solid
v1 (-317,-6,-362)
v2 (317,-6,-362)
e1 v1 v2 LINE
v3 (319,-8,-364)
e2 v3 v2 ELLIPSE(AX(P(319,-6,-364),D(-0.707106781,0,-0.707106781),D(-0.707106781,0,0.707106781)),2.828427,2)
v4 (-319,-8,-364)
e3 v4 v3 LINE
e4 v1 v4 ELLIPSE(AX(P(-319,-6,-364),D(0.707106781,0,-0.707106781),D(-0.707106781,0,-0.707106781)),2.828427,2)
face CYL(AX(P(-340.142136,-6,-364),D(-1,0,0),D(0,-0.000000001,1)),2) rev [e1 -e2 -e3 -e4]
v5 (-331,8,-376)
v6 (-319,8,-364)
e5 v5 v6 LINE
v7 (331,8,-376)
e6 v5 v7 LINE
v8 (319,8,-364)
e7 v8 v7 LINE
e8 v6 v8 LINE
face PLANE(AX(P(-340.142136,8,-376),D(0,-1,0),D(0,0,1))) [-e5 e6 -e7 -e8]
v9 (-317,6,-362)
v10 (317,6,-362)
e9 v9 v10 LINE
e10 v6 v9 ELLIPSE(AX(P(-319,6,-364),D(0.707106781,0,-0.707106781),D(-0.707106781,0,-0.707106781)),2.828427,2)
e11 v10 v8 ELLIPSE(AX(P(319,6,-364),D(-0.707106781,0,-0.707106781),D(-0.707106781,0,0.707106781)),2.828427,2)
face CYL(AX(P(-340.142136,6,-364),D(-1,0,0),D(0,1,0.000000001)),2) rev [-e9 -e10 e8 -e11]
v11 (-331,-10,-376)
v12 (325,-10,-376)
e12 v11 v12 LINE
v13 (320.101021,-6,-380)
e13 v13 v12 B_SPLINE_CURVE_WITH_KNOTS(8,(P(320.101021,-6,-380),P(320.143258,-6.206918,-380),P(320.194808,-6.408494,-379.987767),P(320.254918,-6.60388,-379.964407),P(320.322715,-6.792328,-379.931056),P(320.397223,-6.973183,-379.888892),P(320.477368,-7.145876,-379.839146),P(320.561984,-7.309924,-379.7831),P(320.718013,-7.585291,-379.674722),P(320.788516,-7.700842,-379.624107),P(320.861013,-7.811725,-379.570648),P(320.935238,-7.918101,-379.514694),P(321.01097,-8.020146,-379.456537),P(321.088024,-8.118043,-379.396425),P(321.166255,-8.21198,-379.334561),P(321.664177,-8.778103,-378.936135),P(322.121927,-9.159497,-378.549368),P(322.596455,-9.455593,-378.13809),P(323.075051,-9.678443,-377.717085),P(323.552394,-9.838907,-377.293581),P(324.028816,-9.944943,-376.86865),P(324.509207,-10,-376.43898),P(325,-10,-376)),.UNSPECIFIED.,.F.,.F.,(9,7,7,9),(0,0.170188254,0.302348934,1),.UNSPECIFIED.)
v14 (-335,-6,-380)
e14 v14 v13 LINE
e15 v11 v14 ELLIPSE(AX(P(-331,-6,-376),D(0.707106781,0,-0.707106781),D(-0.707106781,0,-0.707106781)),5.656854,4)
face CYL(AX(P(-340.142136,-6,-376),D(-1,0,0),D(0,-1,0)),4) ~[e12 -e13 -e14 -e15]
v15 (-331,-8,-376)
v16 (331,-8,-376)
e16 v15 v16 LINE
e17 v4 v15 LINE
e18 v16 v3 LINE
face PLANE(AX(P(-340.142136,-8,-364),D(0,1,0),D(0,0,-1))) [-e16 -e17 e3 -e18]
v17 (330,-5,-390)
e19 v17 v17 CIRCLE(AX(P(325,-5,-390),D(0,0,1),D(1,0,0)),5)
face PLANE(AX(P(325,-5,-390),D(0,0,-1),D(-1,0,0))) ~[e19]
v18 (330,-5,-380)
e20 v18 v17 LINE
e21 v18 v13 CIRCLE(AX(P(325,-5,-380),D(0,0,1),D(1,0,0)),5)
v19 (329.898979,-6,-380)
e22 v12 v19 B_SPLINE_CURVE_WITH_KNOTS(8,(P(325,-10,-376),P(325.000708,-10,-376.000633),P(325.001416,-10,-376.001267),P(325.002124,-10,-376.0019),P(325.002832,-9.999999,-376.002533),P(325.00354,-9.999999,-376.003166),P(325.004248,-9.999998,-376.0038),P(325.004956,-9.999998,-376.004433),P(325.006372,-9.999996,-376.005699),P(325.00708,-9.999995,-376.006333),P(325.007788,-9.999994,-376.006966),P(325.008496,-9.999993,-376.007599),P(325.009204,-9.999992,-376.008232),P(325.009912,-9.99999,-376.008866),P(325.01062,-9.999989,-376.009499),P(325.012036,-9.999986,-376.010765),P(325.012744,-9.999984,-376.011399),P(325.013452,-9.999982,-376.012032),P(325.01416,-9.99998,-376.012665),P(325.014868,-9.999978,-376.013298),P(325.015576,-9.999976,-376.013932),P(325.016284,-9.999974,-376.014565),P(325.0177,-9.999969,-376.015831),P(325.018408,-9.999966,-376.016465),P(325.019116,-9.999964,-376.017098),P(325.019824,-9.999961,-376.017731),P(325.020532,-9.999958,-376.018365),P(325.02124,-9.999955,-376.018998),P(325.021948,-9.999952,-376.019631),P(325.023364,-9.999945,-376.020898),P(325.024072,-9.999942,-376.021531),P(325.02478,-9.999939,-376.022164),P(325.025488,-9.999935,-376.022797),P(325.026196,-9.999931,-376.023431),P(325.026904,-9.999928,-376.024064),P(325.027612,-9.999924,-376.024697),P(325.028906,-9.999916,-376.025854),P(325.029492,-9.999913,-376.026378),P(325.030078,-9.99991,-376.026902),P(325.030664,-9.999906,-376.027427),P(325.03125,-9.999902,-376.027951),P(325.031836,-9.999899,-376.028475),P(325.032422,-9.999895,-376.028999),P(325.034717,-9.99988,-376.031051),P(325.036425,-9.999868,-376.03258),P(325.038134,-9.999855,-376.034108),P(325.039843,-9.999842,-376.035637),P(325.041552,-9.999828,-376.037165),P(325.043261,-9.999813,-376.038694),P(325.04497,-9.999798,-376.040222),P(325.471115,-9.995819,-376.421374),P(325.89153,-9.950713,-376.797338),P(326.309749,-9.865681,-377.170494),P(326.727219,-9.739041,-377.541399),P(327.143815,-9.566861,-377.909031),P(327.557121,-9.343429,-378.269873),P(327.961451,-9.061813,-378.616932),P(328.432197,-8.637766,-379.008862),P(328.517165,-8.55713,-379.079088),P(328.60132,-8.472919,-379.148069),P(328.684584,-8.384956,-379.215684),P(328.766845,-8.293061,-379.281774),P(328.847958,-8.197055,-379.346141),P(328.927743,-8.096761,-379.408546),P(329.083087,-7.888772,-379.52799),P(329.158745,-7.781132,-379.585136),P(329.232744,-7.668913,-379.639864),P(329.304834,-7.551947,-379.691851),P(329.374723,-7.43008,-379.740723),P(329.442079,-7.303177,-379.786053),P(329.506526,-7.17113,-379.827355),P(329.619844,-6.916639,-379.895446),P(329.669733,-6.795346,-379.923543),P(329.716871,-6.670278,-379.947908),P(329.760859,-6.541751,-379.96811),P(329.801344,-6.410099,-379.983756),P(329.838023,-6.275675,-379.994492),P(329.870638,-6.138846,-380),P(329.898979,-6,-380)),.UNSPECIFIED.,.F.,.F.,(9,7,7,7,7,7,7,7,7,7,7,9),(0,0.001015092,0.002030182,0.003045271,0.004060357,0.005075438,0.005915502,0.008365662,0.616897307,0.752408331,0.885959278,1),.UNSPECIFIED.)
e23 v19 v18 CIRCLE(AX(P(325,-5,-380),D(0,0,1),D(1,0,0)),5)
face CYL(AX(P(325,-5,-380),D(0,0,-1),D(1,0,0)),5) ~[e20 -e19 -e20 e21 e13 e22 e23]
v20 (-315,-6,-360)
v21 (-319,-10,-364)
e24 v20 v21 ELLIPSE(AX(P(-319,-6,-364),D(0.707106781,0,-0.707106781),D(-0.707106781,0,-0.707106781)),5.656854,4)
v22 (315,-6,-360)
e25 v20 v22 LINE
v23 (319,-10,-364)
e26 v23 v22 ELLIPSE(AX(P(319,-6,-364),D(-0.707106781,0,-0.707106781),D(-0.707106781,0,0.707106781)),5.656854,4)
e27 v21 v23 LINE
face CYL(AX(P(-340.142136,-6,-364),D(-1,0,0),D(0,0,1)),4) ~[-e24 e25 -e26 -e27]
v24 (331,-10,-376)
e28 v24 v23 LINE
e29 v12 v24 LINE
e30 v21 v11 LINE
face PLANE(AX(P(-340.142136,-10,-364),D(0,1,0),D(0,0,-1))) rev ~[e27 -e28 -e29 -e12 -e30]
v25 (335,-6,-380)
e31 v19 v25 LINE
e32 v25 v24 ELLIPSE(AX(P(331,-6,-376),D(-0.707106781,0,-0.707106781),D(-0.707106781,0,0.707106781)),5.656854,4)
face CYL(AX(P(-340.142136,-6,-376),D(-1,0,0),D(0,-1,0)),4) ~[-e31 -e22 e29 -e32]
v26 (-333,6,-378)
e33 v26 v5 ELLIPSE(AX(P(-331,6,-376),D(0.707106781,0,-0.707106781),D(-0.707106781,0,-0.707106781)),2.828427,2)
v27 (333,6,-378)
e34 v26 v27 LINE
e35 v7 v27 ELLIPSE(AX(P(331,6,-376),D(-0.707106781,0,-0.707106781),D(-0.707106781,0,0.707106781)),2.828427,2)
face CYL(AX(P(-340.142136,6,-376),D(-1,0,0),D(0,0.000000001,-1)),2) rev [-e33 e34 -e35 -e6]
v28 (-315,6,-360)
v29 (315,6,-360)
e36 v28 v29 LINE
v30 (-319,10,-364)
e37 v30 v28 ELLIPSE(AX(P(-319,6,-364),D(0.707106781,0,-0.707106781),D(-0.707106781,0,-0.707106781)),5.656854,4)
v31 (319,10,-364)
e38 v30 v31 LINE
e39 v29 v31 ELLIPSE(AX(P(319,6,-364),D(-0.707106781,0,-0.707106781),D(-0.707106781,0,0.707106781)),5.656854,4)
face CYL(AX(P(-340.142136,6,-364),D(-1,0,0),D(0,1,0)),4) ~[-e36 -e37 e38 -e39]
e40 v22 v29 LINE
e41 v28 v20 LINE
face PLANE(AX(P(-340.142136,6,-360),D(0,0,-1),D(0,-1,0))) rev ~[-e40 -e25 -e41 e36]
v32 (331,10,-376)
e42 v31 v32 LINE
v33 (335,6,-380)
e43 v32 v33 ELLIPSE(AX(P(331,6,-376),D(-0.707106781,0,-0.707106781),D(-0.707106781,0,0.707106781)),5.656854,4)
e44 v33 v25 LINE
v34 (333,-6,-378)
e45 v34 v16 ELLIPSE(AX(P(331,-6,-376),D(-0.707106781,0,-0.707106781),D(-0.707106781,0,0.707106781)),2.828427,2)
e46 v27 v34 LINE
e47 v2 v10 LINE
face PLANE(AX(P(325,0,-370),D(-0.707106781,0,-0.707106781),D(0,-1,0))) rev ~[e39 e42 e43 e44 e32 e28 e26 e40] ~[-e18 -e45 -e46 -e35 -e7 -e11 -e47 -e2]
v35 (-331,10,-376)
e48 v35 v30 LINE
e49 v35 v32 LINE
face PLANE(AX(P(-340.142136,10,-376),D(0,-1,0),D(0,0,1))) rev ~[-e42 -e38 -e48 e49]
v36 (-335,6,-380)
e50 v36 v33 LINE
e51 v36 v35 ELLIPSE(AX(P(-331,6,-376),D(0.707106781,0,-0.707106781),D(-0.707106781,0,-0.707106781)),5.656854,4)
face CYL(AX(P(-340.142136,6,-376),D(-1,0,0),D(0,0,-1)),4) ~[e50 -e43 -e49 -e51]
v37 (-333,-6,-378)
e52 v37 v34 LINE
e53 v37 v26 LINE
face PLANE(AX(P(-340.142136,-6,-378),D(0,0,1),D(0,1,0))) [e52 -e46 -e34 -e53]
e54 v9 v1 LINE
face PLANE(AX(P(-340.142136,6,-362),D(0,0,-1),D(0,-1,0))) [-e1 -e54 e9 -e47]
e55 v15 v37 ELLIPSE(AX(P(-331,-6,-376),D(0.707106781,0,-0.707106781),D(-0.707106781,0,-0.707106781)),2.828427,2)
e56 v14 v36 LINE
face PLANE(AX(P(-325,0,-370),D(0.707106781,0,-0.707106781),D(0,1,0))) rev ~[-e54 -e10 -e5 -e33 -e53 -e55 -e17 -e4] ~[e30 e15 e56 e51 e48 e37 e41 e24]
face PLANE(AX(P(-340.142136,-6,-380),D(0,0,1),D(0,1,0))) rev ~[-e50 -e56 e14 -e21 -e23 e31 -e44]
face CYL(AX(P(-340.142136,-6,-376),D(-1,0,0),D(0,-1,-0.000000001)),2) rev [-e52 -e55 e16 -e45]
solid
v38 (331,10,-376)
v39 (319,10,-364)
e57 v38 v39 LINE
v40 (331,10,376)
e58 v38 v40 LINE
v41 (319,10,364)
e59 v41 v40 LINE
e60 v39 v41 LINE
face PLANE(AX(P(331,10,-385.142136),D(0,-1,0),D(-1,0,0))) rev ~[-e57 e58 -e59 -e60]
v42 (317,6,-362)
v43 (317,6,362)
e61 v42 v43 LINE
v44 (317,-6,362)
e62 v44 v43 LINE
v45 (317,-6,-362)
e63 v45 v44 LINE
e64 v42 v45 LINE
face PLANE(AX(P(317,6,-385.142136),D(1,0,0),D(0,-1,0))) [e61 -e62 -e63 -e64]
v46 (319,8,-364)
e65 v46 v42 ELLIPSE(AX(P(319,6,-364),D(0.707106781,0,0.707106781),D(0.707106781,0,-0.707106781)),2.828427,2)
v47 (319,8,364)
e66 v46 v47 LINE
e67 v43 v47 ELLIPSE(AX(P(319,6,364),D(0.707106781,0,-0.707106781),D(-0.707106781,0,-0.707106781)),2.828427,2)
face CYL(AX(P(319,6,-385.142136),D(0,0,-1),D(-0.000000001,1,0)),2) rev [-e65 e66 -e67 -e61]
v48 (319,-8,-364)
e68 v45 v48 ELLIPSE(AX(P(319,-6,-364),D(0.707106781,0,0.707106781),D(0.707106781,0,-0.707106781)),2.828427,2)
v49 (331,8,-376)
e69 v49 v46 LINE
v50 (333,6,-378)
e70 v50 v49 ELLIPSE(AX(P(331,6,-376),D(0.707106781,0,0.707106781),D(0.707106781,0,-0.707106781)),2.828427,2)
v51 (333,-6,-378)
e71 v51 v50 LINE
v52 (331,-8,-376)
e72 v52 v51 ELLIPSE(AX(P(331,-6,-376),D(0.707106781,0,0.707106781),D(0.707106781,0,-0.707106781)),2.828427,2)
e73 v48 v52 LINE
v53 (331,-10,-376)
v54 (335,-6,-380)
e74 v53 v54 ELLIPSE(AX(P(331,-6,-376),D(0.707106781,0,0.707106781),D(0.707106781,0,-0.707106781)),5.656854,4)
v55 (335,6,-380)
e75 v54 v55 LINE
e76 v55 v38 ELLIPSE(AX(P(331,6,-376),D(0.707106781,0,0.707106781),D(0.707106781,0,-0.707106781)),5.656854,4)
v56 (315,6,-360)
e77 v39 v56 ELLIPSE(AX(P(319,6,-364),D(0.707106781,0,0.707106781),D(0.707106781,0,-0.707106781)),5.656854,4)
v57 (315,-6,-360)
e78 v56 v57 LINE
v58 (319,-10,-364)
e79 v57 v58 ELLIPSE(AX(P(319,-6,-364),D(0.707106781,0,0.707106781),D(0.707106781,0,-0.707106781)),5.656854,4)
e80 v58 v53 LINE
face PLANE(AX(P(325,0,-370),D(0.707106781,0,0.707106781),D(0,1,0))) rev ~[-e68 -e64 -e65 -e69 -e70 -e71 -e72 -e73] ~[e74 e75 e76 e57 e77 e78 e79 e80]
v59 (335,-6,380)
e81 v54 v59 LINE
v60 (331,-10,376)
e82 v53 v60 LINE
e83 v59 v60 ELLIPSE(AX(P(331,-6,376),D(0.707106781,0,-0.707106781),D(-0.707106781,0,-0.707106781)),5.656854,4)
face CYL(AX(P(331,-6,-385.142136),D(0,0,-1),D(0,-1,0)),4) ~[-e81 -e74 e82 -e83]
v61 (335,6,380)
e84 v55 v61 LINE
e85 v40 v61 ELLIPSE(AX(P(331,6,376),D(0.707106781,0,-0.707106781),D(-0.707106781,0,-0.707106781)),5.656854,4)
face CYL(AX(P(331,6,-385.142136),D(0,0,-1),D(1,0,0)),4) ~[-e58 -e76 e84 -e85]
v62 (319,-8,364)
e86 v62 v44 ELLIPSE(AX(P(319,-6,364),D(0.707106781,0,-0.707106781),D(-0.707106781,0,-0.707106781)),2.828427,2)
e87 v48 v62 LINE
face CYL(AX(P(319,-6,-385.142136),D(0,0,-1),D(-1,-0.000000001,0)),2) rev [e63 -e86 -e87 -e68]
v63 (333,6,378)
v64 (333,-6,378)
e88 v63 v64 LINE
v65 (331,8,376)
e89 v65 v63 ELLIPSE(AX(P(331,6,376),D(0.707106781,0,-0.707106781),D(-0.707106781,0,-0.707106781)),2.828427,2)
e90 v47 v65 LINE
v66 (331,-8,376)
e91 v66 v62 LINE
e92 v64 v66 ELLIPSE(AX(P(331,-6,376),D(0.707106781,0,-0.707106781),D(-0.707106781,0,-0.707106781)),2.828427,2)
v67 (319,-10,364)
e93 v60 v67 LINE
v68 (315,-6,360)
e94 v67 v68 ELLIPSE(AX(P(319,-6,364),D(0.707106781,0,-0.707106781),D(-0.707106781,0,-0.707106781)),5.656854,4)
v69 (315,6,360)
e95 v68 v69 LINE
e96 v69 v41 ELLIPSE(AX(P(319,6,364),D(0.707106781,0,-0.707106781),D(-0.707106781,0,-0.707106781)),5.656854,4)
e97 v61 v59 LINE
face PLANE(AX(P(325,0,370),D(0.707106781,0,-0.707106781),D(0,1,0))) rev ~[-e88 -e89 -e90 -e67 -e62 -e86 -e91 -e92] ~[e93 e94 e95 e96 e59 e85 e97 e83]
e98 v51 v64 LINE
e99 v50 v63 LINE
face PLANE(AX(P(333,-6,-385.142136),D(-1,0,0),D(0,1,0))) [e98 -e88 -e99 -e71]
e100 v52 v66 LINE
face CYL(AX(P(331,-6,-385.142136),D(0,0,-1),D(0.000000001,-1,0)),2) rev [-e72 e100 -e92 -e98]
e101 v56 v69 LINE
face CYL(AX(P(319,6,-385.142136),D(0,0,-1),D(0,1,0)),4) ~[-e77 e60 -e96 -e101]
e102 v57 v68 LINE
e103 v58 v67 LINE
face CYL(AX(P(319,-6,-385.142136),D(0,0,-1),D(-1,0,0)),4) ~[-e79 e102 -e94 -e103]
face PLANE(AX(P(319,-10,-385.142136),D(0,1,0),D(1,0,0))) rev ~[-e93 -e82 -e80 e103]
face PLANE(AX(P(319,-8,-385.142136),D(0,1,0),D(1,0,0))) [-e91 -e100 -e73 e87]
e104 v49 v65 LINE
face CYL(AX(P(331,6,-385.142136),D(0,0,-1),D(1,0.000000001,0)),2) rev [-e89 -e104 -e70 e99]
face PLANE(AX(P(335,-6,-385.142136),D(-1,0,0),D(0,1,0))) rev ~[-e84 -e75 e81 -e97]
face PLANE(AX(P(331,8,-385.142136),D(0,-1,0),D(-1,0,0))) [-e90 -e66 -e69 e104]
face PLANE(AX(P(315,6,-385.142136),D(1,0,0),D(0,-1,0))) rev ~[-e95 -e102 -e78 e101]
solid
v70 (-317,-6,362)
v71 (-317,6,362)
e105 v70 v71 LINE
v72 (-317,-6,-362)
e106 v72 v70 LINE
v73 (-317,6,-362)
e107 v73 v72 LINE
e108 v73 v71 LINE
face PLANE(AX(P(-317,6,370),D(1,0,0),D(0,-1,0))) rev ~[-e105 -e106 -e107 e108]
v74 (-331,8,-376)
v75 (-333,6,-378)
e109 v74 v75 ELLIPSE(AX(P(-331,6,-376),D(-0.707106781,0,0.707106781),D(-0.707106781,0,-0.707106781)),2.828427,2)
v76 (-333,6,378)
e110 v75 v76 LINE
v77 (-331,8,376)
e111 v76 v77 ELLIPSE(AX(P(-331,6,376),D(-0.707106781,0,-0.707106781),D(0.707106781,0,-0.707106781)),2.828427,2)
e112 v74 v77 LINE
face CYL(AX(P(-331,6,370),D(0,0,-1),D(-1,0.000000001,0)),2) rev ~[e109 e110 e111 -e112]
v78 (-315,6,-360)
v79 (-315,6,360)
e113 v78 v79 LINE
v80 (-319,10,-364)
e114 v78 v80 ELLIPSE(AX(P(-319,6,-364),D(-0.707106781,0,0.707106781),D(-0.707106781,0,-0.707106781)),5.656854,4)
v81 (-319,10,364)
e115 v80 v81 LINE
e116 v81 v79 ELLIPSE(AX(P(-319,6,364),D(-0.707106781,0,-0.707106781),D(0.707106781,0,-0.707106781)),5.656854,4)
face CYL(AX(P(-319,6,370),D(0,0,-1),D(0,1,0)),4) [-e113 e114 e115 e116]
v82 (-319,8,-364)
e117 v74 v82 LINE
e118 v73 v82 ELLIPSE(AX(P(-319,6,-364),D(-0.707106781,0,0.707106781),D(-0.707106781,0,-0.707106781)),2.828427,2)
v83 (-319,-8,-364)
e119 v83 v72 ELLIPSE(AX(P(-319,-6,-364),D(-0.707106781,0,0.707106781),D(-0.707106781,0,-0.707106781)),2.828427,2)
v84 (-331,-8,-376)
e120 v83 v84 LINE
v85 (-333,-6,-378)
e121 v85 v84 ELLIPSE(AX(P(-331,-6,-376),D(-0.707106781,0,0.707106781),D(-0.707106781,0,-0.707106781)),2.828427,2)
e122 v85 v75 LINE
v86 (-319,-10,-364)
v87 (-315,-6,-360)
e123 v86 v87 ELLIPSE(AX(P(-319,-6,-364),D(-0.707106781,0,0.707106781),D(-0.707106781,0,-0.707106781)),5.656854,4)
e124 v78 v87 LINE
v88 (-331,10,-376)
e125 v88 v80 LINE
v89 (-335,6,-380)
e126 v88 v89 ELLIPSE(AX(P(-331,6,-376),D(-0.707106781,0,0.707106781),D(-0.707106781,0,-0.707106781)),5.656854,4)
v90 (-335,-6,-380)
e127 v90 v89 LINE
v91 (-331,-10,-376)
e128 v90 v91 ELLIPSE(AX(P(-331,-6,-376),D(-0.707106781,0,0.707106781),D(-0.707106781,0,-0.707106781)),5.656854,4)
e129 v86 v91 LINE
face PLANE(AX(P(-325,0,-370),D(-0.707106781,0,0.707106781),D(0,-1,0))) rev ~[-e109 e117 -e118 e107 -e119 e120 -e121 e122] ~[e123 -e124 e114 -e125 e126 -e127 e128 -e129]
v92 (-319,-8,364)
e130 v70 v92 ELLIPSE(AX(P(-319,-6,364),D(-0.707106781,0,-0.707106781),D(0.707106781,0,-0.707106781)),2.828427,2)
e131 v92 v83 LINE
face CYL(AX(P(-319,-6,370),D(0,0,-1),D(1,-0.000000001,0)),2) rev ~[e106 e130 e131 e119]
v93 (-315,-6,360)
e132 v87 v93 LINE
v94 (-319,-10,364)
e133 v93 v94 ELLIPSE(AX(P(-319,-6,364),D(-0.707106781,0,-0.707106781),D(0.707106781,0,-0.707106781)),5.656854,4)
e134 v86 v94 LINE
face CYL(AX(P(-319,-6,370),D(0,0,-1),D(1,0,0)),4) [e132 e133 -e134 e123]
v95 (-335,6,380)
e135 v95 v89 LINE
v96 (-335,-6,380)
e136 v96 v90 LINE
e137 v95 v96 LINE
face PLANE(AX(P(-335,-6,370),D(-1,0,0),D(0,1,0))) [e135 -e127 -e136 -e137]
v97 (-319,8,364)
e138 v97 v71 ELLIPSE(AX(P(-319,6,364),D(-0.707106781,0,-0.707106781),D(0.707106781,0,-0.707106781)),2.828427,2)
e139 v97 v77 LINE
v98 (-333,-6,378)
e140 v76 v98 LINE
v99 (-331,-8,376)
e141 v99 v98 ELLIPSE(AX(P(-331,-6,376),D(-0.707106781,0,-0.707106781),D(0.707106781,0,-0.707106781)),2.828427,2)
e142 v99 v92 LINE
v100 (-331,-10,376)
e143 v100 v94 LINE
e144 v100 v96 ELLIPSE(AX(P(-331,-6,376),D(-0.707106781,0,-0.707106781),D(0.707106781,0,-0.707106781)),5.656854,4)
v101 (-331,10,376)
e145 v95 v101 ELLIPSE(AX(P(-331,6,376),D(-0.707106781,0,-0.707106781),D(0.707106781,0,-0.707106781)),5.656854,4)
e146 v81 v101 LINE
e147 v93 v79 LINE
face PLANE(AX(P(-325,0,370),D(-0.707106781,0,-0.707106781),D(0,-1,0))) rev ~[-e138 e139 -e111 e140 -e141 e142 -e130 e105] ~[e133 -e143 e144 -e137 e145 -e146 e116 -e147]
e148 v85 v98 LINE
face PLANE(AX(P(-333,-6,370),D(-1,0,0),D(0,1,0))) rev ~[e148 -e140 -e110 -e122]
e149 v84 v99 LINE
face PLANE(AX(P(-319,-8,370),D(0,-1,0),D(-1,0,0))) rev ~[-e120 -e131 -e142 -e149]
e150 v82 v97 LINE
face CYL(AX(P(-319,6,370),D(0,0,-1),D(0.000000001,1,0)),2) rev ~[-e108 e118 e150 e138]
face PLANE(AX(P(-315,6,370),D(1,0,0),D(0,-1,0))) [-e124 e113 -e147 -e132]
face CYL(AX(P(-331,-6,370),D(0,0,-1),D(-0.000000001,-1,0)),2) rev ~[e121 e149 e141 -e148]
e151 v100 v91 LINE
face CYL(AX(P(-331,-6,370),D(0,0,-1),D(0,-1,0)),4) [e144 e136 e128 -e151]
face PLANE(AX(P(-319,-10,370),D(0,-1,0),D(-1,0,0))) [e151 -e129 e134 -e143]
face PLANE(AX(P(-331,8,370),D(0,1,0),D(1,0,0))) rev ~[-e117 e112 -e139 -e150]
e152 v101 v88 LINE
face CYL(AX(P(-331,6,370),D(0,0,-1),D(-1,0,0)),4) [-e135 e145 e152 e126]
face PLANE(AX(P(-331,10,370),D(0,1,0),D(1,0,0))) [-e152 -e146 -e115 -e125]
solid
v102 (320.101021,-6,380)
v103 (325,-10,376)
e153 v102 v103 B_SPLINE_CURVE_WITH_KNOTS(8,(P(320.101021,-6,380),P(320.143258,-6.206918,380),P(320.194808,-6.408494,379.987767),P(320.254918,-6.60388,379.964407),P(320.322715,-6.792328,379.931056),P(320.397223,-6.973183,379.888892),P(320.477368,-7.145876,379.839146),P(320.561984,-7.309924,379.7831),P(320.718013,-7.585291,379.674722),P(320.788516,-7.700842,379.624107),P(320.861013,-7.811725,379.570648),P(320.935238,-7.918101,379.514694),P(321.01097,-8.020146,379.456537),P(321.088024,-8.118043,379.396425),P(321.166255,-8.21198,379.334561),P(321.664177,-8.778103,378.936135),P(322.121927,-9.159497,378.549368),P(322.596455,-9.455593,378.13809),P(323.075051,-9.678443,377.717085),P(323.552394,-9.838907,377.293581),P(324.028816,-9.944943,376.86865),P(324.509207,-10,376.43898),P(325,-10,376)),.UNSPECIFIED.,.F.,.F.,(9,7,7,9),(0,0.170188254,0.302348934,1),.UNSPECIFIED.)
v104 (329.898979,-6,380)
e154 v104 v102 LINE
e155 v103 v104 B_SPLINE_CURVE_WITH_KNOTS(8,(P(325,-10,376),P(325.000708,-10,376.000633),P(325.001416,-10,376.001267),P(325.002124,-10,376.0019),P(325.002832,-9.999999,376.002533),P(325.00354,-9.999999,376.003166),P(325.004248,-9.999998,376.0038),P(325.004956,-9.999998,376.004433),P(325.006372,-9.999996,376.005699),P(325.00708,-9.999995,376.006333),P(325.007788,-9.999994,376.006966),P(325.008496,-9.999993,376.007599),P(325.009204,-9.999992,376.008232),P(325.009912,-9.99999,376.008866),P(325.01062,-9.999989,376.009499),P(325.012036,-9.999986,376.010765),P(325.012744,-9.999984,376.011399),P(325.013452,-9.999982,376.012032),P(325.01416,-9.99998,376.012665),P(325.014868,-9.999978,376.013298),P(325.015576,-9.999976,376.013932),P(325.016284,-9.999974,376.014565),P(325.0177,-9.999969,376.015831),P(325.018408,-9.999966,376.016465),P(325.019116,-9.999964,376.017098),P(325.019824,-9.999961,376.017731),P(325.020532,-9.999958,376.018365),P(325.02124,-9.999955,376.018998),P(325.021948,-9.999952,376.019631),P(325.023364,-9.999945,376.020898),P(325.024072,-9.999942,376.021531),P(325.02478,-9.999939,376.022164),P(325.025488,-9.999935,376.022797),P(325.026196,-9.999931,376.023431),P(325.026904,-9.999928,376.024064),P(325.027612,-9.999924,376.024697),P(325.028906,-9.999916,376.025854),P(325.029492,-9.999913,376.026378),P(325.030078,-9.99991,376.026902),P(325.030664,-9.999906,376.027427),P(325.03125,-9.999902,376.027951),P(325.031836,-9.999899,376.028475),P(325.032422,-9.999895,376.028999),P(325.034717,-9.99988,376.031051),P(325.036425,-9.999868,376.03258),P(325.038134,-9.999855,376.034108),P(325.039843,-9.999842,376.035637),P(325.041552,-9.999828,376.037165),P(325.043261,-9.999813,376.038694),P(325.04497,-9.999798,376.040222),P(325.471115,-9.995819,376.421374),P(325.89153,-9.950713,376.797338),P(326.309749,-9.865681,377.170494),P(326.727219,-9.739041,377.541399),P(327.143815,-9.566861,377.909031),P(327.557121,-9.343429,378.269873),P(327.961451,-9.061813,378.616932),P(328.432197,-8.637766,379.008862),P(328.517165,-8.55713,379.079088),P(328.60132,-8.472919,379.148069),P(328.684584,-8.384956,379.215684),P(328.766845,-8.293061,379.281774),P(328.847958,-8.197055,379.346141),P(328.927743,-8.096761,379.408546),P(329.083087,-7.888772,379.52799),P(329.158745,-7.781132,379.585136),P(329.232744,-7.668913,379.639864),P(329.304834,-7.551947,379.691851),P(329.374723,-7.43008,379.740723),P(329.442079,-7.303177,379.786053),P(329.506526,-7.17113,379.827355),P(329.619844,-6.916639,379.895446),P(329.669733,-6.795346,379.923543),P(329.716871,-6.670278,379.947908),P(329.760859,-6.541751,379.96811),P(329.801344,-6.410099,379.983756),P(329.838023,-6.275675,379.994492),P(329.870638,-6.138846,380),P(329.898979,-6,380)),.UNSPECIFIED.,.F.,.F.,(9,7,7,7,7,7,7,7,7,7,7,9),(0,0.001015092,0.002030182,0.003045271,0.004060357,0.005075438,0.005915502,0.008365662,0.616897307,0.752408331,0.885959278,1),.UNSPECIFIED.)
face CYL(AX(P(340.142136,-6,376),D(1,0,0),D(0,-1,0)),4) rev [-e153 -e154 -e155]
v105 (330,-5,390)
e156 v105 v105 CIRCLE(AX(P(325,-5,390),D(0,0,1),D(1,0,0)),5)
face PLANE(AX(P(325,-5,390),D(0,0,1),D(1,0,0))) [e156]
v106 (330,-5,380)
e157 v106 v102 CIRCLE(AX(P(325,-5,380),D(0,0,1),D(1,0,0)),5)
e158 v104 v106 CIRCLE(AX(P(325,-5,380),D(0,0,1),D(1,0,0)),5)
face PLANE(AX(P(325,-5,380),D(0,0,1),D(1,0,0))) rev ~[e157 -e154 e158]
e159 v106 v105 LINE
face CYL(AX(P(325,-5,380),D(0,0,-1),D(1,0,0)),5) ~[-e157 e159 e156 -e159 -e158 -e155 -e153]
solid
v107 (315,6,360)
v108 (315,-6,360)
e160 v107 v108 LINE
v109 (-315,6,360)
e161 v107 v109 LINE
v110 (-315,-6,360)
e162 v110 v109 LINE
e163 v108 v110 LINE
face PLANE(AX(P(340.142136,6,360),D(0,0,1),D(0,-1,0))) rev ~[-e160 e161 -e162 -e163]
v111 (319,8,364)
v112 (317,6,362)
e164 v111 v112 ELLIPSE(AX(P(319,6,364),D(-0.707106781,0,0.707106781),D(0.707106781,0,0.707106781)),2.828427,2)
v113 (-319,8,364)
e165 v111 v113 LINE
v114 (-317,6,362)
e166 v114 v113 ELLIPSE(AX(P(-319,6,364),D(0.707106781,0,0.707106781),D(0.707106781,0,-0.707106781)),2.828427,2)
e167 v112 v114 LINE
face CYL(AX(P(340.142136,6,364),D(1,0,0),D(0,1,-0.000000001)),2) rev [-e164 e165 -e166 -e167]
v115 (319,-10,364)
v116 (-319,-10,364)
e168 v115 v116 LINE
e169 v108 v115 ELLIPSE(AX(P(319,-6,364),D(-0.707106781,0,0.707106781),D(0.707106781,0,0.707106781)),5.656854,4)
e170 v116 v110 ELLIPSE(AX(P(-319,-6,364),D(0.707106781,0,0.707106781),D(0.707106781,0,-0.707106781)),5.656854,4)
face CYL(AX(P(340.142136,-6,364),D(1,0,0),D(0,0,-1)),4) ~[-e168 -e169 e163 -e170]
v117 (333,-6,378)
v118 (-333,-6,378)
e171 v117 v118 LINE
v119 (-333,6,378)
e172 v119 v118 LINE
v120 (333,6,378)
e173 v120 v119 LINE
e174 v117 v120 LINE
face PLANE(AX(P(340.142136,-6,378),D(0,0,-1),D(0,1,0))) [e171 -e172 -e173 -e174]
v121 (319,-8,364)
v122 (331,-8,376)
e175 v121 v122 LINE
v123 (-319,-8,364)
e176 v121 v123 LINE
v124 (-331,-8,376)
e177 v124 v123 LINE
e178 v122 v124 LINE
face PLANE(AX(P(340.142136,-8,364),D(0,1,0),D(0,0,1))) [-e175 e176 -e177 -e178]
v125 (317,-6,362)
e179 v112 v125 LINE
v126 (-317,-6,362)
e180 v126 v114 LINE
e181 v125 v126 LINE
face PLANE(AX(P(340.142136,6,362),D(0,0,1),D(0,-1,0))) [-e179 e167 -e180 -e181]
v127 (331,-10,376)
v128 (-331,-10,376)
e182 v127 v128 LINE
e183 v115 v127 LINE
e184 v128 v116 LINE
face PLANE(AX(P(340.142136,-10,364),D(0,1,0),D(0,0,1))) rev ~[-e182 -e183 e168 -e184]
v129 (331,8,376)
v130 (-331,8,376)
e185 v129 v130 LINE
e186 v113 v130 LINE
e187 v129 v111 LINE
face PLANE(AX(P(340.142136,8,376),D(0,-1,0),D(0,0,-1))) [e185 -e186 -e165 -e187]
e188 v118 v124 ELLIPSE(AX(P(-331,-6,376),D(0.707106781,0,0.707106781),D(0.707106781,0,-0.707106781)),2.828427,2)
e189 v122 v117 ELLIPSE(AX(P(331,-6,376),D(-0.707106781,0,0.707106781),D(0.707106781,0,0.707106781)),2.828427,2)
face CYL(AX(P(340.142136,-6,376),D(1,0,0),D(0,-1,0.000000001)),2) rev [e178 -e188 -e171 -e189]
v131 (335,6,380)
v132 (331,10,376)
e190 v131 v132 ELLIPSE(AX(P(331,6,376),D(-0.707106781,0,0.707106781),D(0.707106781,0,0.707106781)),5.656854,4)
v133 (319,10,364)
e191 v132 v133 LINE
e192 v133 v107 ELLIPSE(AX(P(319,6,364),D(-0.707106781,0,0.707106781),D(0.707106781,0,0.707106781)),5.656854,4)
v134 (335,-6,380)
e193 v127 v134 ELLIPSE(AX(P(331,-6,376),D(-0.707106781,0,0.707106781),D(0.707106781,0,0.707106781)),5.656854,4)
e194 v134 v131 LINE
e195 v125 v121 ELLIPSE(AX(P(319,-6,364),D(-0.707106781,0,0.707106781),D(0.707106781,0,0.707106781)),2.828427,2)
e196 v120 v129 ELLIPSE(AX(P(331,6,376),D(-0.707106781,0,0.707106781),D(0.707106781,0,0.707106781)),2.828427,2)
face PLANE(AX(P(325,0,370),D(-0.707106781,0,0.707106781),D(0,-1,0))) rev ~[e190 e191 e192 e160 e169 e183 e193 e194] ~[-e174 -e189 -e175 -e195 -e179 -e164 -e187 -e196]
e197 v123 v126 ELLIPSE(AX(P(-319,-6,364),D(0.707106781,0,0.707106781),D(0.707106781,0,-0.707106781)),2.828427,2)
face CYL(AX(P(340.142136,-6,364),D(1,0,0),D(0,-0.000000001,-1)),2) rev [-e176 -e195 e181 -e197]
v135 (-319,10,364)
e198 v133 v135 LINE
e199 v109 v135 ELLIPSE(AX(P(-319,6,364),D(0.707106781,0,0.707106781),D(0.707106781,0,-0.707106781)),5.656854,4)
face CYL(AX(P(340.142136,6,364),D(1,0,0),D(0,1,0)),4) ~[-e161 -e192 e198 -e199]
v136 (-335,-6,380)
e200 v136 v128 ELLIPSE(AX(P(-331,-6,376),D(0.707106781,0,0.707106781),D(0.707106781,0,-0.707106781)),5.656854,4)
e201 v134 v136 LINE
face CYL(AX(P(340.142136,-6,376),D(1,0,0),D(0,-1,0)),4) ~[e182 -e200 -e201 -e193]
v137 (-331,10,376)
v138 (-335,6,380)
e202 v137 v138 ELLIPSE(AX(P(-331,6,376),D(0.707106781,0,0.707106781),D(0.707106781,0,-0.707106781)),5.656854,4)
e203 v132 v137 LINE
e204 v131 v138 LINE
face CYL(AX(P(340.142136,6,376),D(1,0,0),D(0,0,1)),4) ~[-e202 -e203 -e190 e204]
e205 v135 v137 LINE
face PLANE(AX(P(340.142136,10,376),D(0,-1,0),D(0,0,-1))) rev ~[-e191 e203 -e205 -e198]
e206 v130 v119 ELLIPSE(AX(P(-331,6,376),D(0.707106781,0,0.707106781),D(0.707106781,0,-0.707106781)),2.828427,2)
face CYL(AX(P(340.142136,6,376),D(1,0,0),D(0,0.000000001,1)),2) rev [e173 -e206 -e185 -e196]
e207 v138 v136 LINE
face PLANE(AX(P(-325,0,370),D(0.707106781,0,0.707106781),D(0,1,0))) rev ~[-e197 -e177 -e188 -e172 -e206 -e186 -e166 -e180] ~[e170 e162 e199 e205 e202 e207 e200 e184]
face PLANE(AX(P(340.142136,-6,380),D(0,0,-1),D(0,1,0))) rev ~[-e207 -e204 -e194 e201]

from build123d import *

# Parameters (mm, degrees)
SQUARE_TUBE_CONFIGURED_20_X_20_X_2_1_DEPTH      = 755.142135624
SQUARE_TUBE_CONFIGURED_20_X_20_X_2_1_DEPTH_BACK = 15.142135624
SQUARE_TUBE_CONFIGURED_20_X_20_X_2_1_2_DEPTH    = 680.284271247
SQUARE_TUBE_CONFIGURED_20_X_20_X_2_1_3_DEPTH    = 770.284271247
SQUARE_TUBE_CONFIGURED_20_X_20_X_2_1_4_DEPTH    = 680.284271247
SKETCH13_R                                      = 5
BOSS_EXTRUDE1_DEPTH                             = 10
BOSS_EXTRUDE1_DIRECTION_2_REACH                 = 832.617


with BuildPart() as part:
    # Sketch12 → Square tube - configured 20 X 20 X 2(1) (new, two sides)
    with BuildSketch(Plane(origin=(-325, 0, 370), x_dir=(-1, 0, 0), z_dir=(0, 0, -1))) as square_tube_configured_20_x_20_x_2_1_sk:
        with BuildLine():
            Line((-6, -10), (6, -10))
            ThreePointArc((6, -10), (8.828427125, -8.828427125), (10, -6))
            Line((10, -6), (10, 6))
            ThreePointArc((10, 6), (8.828427125, 8.828427125), (6, 10))
            Line((6, 10), (-6, 10))
            ThreePointArc((-6, 10), (-8.828427125, 8.828427125), (-10, 6))
            Line((-10, 6), (-10, -6))
            ThreePointArc((-10, -6), (-8.828427125, -8.828427125), (-6, -10))
        make_face()
        with BuildLine():
            Line((-6, -8), (6, -8))
            ThreePointArc((6, -8), (7.414213562, -7.414213562), (8, -6))
            Line((8, -6), (8, 6))
            ThreePointArc((8, 6), (7.414213562, 7.414213562), (6, 8))
            Line((6, 8), (-6, 8))
            ThreePointArc((-6, 8), (-7.414213562, 7.414213562), (-8, 6))
            Line((-8, 6), (-8, -6))
            ThreePointArc((-8, -6), (-7.414213562, -7.414213562), (-6, -8))
        make_face(mode=Mode.SUBTRACT)
    extrude(amount=SQUARE_TUBE_CONFIGURED_20_X_20_X_2_1_DEPTH)
    extrude(square_tube_configured_20_x_20_x_2_1_sk.sketch, amount=-SQUARE_TUBE_CONFIGURED_20_X_20_X_2_1_DEPTH_BACK)

    # Square tube - configured 20 X 20 X 2(1) m
    split(bisect_by=Plane(origin=(-325, 0, 370), x_dir=(0, -1, 0), z_dir=(-0.707106781, 0, -0.707106781)), keep=Keep.TOP)

    # Square tube - configured 20 X 20 X 2 2
    split(bisect_by=Plane(origin=(-325, 0, -370), x_dir=(0, -1, 0), z_dir=(-0.707106781, 0, 0.707106781)), keep=Keep.TOP)


with BuildPart() as body_2:
    # Sketch12 on segment 2 (carried to segment 2) → Square tube - configured 20 X 20 X 2_1 2 (new body)
    with BuildSketch(Plane(origin=(-340.142135624, 0, -370), x_dir=(0, 0, -1), z_dir=(1, 0, 0))):
        with BuildLine():
            Line((-6, -10), (6, -10))
            ThreePointArc((6, -10), (8.828427125, -8.828427125), (10, -6))
            Line((10, -6), (10, 6))
            ThreePointArc((10, 6), (8.828427125, 8.828427125), (6, 10))
            Line((6, 10), (-6, 10))
            ThreePointArc((-6, 10), (-8.828427125, 8.828427125), (-10, 6))
            Line((-10, 6), (-10, -6))
            ThreePointArc((-10, -6), (-8.828427125, -8.828427125), (-6, -10))
        make_face()
        with BuildLine():
            Line((-6, -8), (6, -8))
            ThreePointArc((6, -8), (7.414213562, -7.414213562), (8, -6))
            Line((8, -6), (8, 6))
            ThreePointArc((8, 6), (7.414213562, 7.414213562), (6, 8))
            Line((6, 8), (-6, 8))
            ThreePointArc((-6, 8), (-7.414213562, 7.414213562), (-8, 6))
            Line((-8, 6), (-8, -6))
            ThreePointArc((-8, -6), (-7.414213562, -7.414213562), (-6, -8))
        make_face(mode=Mode.SUBTRACT)
    extrude(amount=SQUARE_TUBE_CONFIGURED_20_X_20_X_2_1_2_DEPTH)

    # Square tube - configured 20 X 20 X 2 3
    split(bisect_by=Plane(origin=(325, 0, -370), x_dir=(0, -1, 0), z_dir=(-0.707106781, 0, -0.707106781)), keep=Keep.TOP)

    # Square tube - configured 20 X 20 X 2 4
    split(bisect_by=Plane(origin=(-325, 0, -370), x_dir=(0, 1, 0), z_dir=(0.707106781, 0, -0.707106781)), keep=Keep.TOP)


with BuildPart() as body_3:
    # Sketch12 on segment 3 (carried to segment 3) → Square tube - configured 20 X 20 X 2_1 3 (new body)
    with BuildSketch(Plane(origin=(325, 0, -385.142135624), x_dir=(1, 0, 0), z_dir=(0, 0, 1))):
        with BuildLine():
            Line((-6, -10), (6, -10))
            ThreePointArc((6, -10), (8.828427125, -8.828427125), (10, -6))
            Line((10, -6), (10, 6))
            ThreePointArc((10, 6), (8.828427125, 8.828427125), (6, 10))
            Line((6, 10), (-6, 10))
            ThreePointArc((-6, 10), (-8.828427125, 8.828427125), (-10, 6))
            Line((-10, 6), (-10, -6))
            ThreePointArc((-10, -6), (-8.828427125, -8.828427125), (-6, -10))
        make_face()
        with BuildLine():
            Line((-6, -8), (6, -8))
            ThreePointArc((6, -8), (7.414213562, -7.414213562), (8, -6))
            Line((8, -6), (8, 6))
            ThreePointArc((8, 6), (7.414213562, 7.414213562), (6, 8))
            Line((6, 8), (-6, 8))
            ThreePointArc((-6, 8), (-7.414213562, 7.414213562), (-8, 6))
            Line((-8, 6), (-8, -6))
            ThreePointArc((-8, -6), (-7.414213562, -7.414213562), (-6, -8))
        make_face(mode=Mode.SUBTRACT)
    extrude(amount=SQUARE_TUBE_CONFIGURED_20_X_20_X_2_1_3_DEPTH)

    # Square tube - configured 20 X 20 X 2 5
    split(bisect_by=Plane(origin=(325, 0, 370), x_dir=(0, 1, 0), z_dir=(0.707106781, 0, -0.707106781)), keep=Keep.TOP)

    # Square tube - configured 20 X 20 X 2 6
    split(bisect_by=Plane(origin=(325, 0, -370), x_dir=(0, 1, 0), z_dir=(0.707106781, 0, 0.707106781)), keep=Keep.TOP)


with BuildPart() as body_4:
    # Sketch12 on segment 4 (carried to segment 4) → Square tube - configured 20 X 20 X 2_1 4 (new body)
    with BuildSketch(Plane(origin=(340.142135624, 0, 370), x_dir=(0, 0, 1), z_dir=(-1, 0, 0))):
        with BuildLine():
            Line((-6, -10), (6, -10))
            ThreePointArc((6, -10), (8.828427125, -8.828427125), (10, -6))
            Line((10, -6), (10, 6))
            ThreePointArc((10, 6), (8.828427125, 8.828427125), (6, 10))
            Line((6, 10), (-6, 10))
            ThreePointArc((-6, 10), (-8.828427125, 8.828427125), (-10, 6))
            Line((-10, 6), (-10, -6))
            ThreePointArc((-10, -6), (-8.828427125, -8.828427125), (-6, -10))
        make_face()
        with BuildLine():
            Line((-6, -8), (6, -8))
            ThreePointArc((6, -8), (7.414213562, -7.414213562), (8, -6))
            Line((8, -6), (8, 6))
            ThreePointArc((8, 6), (7.414213562, 7.414213562), (6, 8))
            Line((6, 8), (-6, 8))
            ThreePointArc((-6, 8), (-7.414213562, 7.414213562), (-8, 6))
            Line((-8, 6), (-8, -6))
            ThreePointArc((-8, -6), (-7.414213562, -7.414213562), (-6, -8))
        make_face(mode=Mode.SUBTRACT)
    extrude(amount=SQUARE_TUBE_CONFIGURED_20_X_20_X_2_1_4_DEPTH)

    # Square tube - configured 20 X 20 X 2 7
    split(bisect_by=Plane(origin=(325, 0, 370), x_dir=(0, -1, 0), z_dir=(-0.707106781, 0, 0.707106781)), keep=Keep.TOP)

    # Square tube - configured 20 X 20 X 2 8
    split(bisect_by=Plane(origin=(-325, 0, 370), x_dir=(0, 1, 0), z_dir=(0.707106781, 0, 0.707106781)), keep=Keep.TOP)


with BuildPart() as body_5:
    # Sketch13 → Boss-Extrude1 (new body)
    with BuildSketch(Plane.XY.offset(380)):
        with Locations((325, -5)):
            Circle(SKETCH13_R)
    boss_extrude1 = extrude(amount=BOSS_EXTRUDE1_DEPTH)


    # Sketch13 → Boss-Extrude1 direction 2 (add, up to next)
    with BuildSketch(Plane.XY.offset(380), mode=Mode.PRIVATE) as boss_extrude1_direction_2_sk1:
        with Locations((325, -5)):
            Circle(SKETCH13_R)
    boss_extrude1_direction_2_tool1 = extrude(boss_extrude1_direction_2_sk1.sketch, amount=-BOSS_EXTRUDE1_DIRECTION_2_REACH, mode=Mode.PRIVATE) - body_4.part
    boss_extrude1_direction_2 = boss_extrude1_direction_2_tool1.solids().sort_by_distance((325, -5, 380))[0]
    add(boss_extrude1_direction_2)


with BuildPart() as body_2_1:
    add(body_2.part)

    # Mirror2: Boss-Extrude1, Boss-Extrude1 direction 2 across plane
    add(boss_extrude1.mirror(Plane.XY))
    add(boss_extrude1_direction_2.mirror(Plane.XY))


solid = Compound([part.part, body_3.part, body_4.part, body_5.part, body_2_1.part])
